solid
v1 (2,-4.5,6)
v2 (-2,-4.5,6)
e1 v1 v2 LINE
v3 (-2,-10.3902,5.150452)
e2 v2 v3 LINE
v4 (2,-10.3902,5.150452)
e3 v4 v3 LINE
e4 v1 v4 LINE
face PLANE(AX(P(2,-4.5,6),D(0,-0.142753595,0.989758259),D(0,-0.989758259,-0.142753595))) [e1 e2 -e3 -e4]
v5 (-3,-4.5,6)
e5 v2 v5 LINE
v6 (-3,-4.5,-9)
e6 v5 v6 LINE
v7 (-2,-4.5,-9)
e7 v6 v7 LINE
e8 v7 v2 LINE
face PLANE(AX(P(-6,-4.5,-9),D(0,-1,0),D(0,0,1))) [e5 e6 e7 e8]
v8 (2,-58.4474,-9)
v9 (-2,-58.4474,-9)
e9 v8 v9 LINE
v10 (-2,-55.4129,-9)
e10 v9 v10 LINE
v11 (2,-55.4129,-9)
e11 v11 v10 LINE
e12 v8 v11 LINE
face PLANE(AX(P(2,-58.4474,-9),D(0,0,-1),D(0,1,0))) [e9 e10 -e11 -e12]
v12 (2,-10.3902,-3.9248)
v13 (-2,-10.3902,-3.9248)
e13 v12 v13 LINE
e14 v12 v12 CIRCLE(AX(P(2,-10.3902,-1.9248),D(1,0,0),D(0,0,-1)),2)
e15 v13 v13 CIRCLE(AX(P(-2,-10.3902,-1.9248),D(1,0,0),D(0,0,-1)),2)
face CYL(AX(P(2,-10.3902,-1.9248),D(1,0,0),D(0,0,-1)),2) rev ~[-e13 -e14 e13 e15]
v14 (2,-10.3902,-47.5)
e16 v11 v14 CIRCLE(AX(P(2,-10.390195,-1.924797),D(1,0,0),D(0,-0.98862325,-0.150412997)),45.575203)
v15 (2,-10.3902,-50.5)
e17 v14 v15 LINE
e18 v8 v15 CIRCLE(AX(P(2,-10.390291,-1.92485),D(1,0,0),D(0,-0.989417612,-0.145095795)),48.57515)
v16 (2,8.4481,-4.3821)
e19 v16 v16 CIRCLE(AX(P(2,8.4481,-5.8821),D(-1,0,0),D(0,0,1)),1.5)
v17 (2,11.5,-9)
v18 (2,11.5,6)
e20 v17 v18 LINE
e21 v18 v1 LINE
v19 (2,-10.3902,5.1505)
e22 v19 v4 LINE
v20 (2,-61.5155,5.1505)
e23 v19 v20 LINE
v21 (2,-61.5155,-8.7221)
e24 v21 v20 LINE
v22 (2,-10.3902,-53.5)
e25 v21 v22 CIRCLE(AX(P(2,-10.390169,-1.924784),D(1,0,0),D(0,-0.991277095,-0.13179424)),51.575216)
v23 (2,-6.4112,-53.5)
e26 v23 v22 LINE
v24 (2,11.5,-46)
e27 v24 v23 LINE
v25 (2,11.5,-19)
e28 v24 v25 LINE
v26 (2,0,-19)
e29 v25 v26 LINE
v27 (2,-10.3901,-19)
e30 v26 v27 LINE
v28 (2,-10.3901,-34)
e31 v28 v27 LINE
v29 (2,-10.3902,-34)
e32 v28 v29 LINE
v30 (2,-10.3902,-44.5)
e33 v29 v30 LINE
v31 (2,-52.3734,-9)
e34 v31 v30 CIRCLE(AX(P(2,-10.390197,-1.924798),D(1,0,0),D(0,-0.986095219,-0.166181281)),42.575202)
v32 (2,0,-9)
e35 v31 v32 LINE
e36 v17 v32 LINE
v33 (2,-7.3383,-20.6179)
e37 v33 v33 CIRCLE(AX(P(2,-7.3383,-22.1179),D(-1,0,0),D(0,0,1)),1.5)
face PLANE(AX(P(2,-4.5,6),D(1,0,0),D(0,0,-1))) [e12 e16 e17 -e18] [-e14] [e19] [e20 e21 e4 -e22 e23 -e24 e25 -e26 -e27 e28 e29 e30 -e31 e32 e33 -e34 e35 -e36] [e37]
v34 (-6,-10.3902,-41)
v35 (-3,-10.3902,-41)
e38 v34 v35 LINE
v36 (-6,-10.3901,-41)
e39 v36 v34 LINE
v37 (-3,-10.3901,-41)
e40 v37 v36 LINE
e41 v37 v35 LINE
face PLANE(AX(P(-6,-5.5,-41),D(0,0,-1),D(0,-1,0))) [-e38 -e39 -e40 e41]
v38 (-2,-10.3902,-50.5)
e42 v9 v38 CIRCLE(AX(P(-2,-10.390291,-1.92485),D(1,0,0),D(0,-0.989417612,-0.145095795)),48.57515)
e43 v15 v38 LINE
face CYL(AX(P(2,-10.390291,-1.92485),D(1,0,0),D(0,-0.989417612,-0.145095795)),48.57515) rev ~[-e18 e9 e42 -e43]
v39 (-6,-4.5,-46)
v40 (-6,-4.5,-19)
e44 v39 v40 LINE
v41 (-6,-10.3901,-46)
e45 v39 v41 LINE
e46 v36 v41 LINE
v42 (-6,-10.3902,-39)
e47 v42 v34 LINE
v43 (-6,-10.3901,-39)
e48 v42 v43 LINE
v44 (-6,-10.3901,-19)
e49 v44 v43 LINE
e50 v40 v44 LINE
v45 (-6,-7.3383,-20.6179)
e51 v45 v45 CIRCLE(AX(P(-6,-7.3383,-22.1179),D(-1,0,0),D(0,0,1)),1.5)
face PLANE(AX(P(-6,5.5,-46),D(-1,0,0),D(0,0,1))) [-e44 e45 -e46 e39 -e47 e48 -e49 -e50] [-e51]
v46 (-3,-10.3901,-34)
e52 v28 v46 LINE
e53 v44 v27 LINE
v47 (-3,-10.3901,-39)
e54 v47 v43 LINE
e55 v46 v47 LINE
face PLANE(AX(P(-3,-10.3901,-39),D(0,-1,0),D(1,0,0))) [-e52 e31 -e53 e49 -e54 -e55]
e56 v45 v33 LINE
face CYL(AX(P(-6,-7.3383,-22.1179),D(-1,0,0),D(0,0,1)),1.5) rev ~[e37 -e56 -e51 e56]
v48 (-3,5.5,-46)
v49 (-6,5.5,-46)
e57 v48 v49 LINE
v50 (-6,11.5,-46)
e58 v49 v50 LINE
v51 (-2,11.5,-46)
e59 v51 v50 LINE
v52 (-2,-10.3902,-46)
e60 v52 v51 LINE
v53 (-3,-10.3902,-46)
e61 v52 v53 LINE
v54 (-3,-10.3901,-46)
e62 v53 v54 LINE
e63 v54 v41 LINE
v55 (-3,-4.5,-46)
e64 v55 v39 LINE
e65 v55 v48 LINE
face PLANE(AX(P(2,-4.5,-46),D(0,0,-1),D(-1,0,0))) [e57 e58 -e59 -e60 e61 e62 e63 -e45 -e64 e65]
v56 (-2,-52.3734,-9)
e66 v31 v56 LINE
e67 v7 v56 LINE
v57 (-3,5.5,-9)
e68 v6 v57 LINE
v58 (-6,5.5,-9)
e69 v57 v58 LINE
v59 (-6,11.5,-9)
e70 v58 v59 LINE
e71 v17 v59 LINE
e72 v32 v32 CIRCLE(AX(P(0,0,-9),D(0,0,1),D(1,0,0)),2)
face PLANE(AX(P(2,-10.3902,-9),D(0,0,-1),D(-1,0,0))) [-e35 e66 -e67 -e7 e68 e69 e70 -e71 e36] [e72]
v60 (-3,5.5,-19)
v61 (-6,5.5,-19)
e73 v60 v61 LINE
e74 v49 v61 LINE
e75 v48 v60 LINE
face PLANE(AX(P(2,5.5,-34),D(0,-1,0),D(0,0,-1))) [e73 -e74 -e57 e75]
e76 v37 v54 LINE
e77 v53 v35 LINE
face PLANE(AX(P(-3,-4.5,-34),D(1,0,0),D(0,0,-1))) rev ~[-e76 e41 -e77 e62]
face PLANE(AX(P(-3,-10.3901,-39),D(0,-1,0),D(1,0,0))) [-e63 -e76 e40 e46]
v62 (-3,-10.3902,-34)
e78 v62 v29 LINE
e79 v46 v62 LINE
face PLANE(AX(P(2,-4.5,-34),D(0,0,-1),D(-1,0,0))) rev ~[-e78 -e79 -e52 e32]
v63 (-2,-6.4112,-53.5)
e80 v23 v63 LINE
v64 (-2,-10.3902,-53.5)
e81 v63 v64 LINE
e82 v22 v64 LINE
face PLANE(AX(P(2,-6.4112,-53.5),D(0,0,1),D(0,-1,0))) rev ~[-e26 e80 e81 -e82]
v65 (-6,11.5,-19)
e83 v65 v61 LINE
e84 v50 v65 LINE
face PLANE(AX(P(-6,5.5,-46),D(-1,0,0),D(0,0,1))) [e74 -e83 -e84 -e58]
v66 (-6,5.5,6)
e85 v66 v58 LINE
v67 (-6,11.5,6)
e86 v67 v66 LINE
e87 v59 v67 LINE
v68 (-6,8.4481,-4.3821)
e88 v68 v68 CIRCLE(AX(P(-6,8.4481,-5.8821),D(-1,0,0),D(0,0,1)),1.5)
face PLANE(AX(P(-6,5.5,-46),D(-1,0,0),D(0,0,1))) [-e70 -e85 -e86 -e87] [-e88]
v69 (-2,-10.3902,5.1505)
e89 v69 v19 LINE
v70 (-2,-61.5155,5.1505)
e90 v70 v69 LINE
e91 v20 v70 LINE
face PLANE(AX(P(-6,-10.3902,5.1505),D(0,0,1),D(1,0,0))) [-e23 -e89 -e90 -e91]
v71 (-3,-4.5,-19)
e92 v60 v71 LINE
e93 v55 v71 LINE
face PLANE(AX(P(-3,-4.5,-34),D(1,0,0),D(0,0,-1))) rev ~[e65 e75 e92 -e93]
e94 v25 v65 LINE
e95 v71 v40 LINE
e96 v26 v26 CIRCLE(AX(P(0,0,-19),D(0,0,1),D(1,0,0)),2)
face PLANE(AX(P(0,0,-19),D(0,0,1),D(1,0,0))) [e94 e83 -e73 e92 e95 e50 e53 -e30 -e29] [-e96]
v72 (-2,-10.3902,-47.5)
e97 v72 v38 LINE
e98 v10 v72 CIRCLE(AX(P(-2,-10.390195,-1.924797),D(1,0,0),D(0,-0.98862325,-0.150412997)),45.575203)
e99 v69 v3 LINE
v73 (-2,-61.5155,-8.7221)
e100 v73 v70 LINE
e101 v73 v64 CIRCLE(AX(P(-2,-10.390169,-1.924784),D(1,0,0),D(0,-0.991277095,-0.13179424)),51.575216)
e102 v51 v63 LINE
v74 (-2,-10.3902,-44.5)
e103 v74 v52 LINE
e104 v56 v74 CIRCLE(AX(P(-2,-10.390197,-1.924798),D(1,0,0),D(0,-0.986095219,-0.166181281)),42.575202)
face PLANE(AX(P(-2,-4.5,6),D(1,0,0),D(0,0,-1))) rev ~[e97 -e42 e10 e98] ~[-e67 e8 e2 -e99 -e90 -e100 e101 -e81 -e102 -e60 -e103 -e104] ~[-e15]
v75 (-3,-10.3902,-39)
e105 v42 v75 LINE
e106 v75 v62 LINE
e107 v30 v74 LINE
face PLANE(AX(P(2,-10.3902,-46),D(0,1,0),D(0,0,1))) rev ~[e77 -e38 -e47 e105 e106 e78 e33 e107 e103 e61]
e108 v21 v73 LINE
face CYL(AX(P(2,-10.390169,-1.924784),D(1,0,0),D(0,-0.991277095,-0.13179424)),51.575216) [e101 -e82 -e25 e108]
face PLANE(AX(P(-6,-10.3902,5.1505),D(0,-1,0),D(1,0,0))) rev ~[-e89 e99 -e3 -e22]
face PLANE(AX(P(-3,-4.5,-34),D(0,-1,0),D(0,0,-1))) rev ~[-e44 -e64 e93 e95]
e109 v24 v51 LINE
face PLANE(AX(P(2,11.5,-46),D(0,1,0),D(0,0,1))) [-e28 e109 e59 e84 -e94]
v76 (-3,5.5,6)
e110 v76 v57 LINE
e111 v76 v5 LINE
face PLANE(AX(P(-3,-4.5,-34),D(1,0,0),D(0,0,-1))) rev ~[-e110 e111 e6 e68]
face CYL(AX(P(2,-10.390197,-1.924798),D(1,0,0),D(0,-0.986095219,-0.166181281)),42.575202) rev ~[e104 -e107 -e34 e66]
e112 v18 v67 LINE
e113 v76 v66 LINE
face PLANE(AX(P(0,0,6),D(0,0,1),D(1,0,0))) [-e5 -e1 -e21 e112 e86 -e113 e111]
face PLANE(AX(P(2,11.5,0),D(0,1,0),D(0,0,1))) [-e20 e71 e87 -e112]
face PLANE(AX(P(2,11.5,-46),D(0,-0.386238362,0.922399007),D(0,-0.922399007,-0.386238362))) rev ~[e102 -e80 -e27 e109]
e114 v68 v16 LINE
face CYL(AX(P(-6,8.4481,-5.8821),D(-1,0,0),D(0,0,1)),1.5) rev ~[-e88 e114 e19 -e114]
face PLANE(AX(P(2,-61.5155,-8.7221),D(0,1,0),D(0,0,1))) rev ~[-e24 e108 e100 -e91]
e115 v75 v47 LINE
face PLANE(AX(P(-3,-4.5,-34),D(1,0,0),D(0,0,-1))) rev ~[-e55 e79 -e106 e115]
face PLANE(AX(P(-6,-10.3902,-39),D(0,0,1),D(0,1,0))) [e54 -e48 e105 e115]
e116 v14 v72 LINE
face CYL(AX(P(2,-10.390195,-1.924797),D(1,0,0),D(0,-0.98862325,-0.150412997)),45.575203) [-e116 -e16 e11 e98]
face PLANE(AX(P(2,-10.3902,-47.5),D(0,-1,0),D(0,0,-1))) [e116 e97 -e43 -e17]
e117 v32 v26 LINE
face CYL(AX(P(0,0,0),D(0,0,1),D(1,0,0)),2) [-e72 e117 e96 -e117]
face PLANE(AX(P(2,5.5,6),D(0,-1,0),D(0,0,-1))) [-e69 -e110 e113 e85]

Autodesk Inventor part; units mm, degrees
ref_plane "YZ Plane" through (0, 0, 0) normal (1, 0, 0) x (0, 1, 0)
ref_plane "XZ Plane" through (0, 0, 0) normal (0, 1, 0) x (-1, 0, 0)
ref_plane "XY Plane" through (0, 0, 0) normal (0, 0, 1) x (1, 0, 0)
sketch "Sketch1" plane through (0, 0, 0) normal (0, 0, 1) x (1, 0, 0)
  circle A0 centre (0, 0) radius 2
  dimension "d0" = 4
extrude "Extrusion1" add sketch "Sketch1" against normal blind 40
sketch "Sketch2" plane through (0, 0, 0) normal (0, 0, 1) x (1, 0, 0)
  circle A0 centre (0, 0) radius 2 projected
  line L0 (2, -4.5) -> (-3, -4.5)
  line L1 (-3, -4.5) -> (-3, 4.5)
  line L2 (-3, 4.5) -> (2, 4.5)
  line L3 (2, 4.5) -> (2, -4.5)
  dimension "d3" = 3
  dimension "d4" = 9
  dimension "d5" = 4.5
extrude "Extrusion2" add sketch "Sketch2" along normal blind 6 contours A0 | L3 L0 L1 L2
sketch "Sketch3" plane through (0, 0, 6) normal (0, 0, 1) x (1, 0, 0)
  circle A0 centre (0, 0) radius 2 projected
  line L0 (-3, -4.5) -> (2, -4.5) projected
  line L1 (2, -4.5) -> (2, 4.5) projected
  line L2 (2, 4.5) -> (-3, 4.5) projected
  line L3 (-3, 4.5) -> (-3, -4.5) projected
  line L4 (2, -4.5) -> (2, 4.5) projected
  line L5 (-3, 4.5) -> (2, 4.5)
  line L6 (2, 4.5) -> (2, 3.5)
  line L7 (2, 3.5) -> (-3, 3.5)
  line L8 (-3, 3.5) -> (-3, 4.5)
  point P0 (2, 0)
  dimension "d8" = 1
extrude "Extrusion3" cut sketch "Sketch3" against normal blind 6 contours L7 L3 L2 L1
sketch "Sketch4" plane through (0, 0, -40) normal (0, 0, -1) x (-1, 0, 0)
  circle A0 centre (0, 0) radius 2 projected
extrude "Extrusion4" cut sketch "Sketch4" against normal blind 6
sketch "Sketch5" plane through (0, 0, -34) normal (0, 0, -1) x (-1, 0, 0)
  line L0 (3, 3.5) -> (-2, 3.5) projected
  line L1 (3, -4.5) -> (3, 3.5) projected
  line L2 (-2, 3.5) -> (-2, 0) projected
  line L3 (-2, 0) -> (-2, -4.5) projected
  line L4 (-2, -4.5) -> (3, -4.5) projected
  line L5 (3, 3.5) -> (-2, 3.5)
  line L6 (-2, 3.5) -> (-2, -4.5)
  line L7 (-2, -4.5) -> (3, -4.5)
  line L8 (3, -4.5) -> (3, 3.5)
  point P0 (0, 0)
extrude "Extrusion5" add sketch "Sketch5" along normal blind 12
sketch "Sketch6" plane through (-3, -4.5, -34) normal (0, -1, 0) x (1, 0, 0)
  line L0 (5, 0) -> (0, 0) projected
  line L1 (0, 0) -> (0, -12) projected
  line L2 (5, -12) -> (0, -12) projected
  line L3 (5, 0) -> (5, -12) projected
  line L4 (5, -12) -> (0, -12)
  line L5 (0, -12) -> (0, 0)
  line L6 (0, 0) -> (5, 0)
  line L7 (5, 0) -> (5, -12)
  point P0 (3, 34)
extrude "Extrusion6" add sketch "Sketch6" along normal blind 110
sketch "Sketch7" plane through (2, 0, -34) normal (1, 0, 0) x (0, 0, -1)
  line L0 (0, 3.5) -> (0, 0) projected
  line L1 (0, 0) -> (0, -114.5) projected
  line L2 (12, -114.5) -> (0, -114.5) projected
  line L3 (12, 3.5) -> (12, -114.5) projected
  line L4 (0, 3.5) -> (12, 3.5) projected
  line L5 (-34, 3.5) -> (-40, 3.5) projected
  line L6 (-40, -4.5) -> (-40, 3.5) projected
  line L7 (-34, -4.5) -> (-40, -4.5) projected
  line L8 (-34, 0) -> (-34, -4.5) projected
  line L9 (-34, 3.5) -> (-34, 0) projected
  line L10 (0, 3.5) -> (0, -114.5) projected
  line L11 (0, -108.5) -> (-25, -108.5)
  line L12 (-25, -108.5) -> (-25, -114.5)
  line L13 (-25, -114.5) -> (0, -114.5)
  line L14 (0, -114.5) -> (0, -108.5)
  line L15 (0, -114.5) -> (12, -114.5) projected
  line L16 (-40, -4.5) -> (-25, -108.5)
  line L17 (-34, -4.5) -> (-19, -108.5)
  point P0 (-34, 0)
  dimension "d46" = 6
  dimension "d47" = 25
extrude "Extrusion7" add sketch "Sketch7" against normal up to surface (5 mm away) contours L1 L13 L12 L11 | L11 L16 L7 L17 | L7 L6 L5 L9 L8
sketch "Sketch8" plane through (2, 3.5, 6) normal (1, 0, 0) x (0, 0, -1)
  line L0 (6, 0) -> (0, 0) projected
  line L1 (45, -10) -> (47, -10)
  line L2 (47, -10) -> (47, -112)
  line L3 (47, -112) -> (45, -112)
  line L4 (45, -112) -> (45, -10)
  line L5 (0, -8) -> (0, 0) projected
  line L6 (6, -3.5) -> (6, -8) projected
  line L7 (6, 0) -> (6, -3.5) projected
  line L8 (0, -8) -> (15, -112) projected
  line L9 (15, -112) -> (15, -118) projected
  line L10 (52, -118) -> (15, -118) projected
  line L11 (52, 0) -> (52, -118) projected
  line L12 (40, 0) -> (52, 0) projected
  line L13 (40, 0) -> (40, -3.5) projected
  line L14 (40, -3.5) -> (40, -112) projected
  line L15 (40, -112) -> (21, -112) projected
  line L16 (21, -112) -> (6, -8) projected
  dimension "d20" = 2
  dimension "d48" = 6
  dimension "d49" = 5
  dimension "d50" = 10
extrude "Extrusion8" cut sketch "Sketch8" against normal through all contours L1 L2 L3 L4
sketch "Sketch9" plane through (-3, 3.5, 0) normal (-1, 0, 0) x (0, 0, 1)
  line L0 (6, 0) -> (0, 0) projected
  line L1 (-46, 0) -> (-46, -118) projected
  line L2 (-46, -8) -> (-46, -9)
  line L3 (-34, -3.5) -> (-34, -112) projected
  line L4 (-34, -8) -> (-34, -9)
  line L5 (0, -8) -> (-0.8495, -13.8902)
  line L6 (-46, -9) -> (-34, -9)
  line L7 (6, -8) -> (0, -8)
  line L8 (-34, -8) -> (-46, -8)
  line L9 (0, -8) -> (0, 0) projected
  line L10 (6, 0) -> (6, -8) projected
  line L11 (-15, -112) -> (0, -8) projected
  line L12 (-34, -112) -> (-15, -112) projected
  line L13 (-34, 0) -> (-34, -112) projected
  line L14 (-34, 0) -> (-46, 0) projected
  line L15 (-46, 0) -> (-46, -118) projected
  line L16 (-9, -118) -> (-46, -118) projected
  line L17 (-9, -112) -> (-9, -118) projected
  line L18 (6, -8) -> (-9, -112) projected
  line L19 (-15, -112) -> (0, -8) projected
  line L20 (6, -8) -> (5.1505, -13.8902)
  line L21 (6, -8) -> (-9, -112) projected
  line L22 (5.1505, -13.8902) -> (-0.8495, -13.8902)
  line L23 (-15, -112) -> (0, -8) projected
  line L24 (-46, -9) -> (-34, -9)
  line L25 (-34, -9) -> (-34, -18.1174)
  line L26 (-34, -18.1174) -> (-46, -18.1174)
  line L27 (-46, -18.1174) -> (-46, -9)
  line L28 (-41, -9) -> (-41, -18.1174)
  line L29 (-41, -10) -> (-41, -112) projected
  line L30 (-39, -10) -> (-39, -112) projected
  line L31 (-39, -18.1174) -> (-39, -9)
  line L32 (-39, -10) -> (-39, -112) projected
  line L33 (-39, -112) -> (-41, -112) projected
  line L34 (-41, -112) -> (-41, -10) projected
  line L35 (-41, -10) -> (-39, -10) projected
  point P0 (0, -3.5)
  point P1 (-40, -8)
  point P2 (-39, 0)
  point P3 (-41, 0)
extrude "Extrusion9" add sketch "Sketch9" along normal blind 3.5 contours L18 L22 L5 L7 | L26 L30 L31 L6 L3 | L1 L6 L28 L26 | L6 L1 L8 L3
sketch "Sketch10" plane through (-3, 3.5, 6) normal (0, 1, 0) x (1, 0, 0)
  line L0 (2.5037, 5.3678) -> (4.55, 1.815)
  line L1 (4.55, 1.815) -> (2.4963, 0.6322)
  line L2 (2.4963, 0.6322) -> (0.45, 4.185)
  line L3 (0.45, 4.185) -> (2.5037, 5.3678)
  line L4 (0.45, 4.185) -> (4.55, 4.185)
  line L5 (4.55, 4.185) -> (4.55, 1.815)
  line L6 (4.55, 1.815) -> (0.45, 1.815)
  line L7 (0.45, 1.815) -> (0.45, 4.185)
  line L8 (2.5037, 5.3678) -> (4.55, 4.185)
  line L9 (0.45, 1.815) -> (2.4963, 0.6322)
  line L10 (2.4963, 45.3678) -> (4.5537, 41.8214)
  line L11 (4.5537, 41.8214) -> (2.5037, 40.6322)
  line L12 (2.5037, 40.6322) -> (0.4463, 44.1786)
  line L13 (0.4463, 44.1786) -> (2.4963, 45.3678)
  line L14 (0.4463, 44.1786) -> (4.5463, 44.1914)
  line L15 (4.5463, 44.1914) -> (4.5537, 41.8214)
  line L16 (4.5537, 41.8214) -> (0.4537, 41.8086)
  line L17 (0.4537, 41.8086) -> (0.4463, 44.1786)
  line L18 (2.4963, 45.3678) -> (4.5463, 44.1914)
  line L19 (0.4537, 41.8086) -> (2.5037, 40.6322)
  line L20 (4.4304, 1.8841) -> (2.4963, 0.6322)
  line L21 (0.4537, 41.8086) -> (4.5463, 44.1914)
  line L22 (4.5537, 41.8214) -> (0.4463, 44.1786)
  line L23 (2.5037, 40.6322) -> (2.4963, 45.3678)
  line L24 (5, 0) -> (0, 0) projected
  line L25 (0, 0) -> (0, 6) projected
  line L26 (0, 40) -> (5, 40) projected
  line L27 (0, 40) -> (0, 52) projected
  point P0 (3, 6)
  point P1 (11, 0)
  point P2 (11, 0)
  point P3 (2.5, 43)
  point P4 (2.5, 3)
  dimension "d28" = 4.1
  dimension "d29" = 2.37
  dimension "d30" = 4.1
  dimension "d31" = 2.37
  dimension "d33" = 4.1
  dimension "d34" = 2.37
  dimension "d35" = 4.1
  dimension "d36" = 2.37
  dimension "d38" = 3
  dimension "d39" = 2.5
  dimension "d40" = 3
  dimension "d41" = 2.5
sketch "Sketch11" plane through (-3, 3.5, -34) normal (0, 1, 0) x (1, 0, 0)
  line L0 (0, 0) -> (5, 0) projected
  line L1 (5, 0) -> (5, 12) projected
  line L2 (0, 12) -> (5, 12) projected
  line L3 (0, 0) -> (0, 12) projected
  line L4 (5, -40) -> (0, -40) projected
  line L5 (5, -34) -> (5, -40) projected
  line L6 (0, -34) -> (5, -34) projected
  line L7 (0, -40) -> (0, -34) projected
  point P0 (3, -34)
extrude "Extrusion12" add sketch "Sketch11" along normal blind 2
sketch "Sketch12" plane through (2, -114.5, -9) normal (1, 0, 0) x (0, 0, -1)
  line L0 (30, 6) -> (30, 108) projected
  line L1 (30, 108) -> (32, 108) projected
  line L2 (32, 108) -> (32, 6) projected
  line L3 (32, 6) -> (30, 6) projected
  line L4 (-15, 110) -> (-15, 120) projected
  line L5 (-15, 110) -> (0, 6) projected
  line L6 (0, 6) -> (0, 0) projected
  line L7 (37, 0) -> (0, 0) projected
  line L8 (37, 0) -> (37, 120) projected
  line L9 (25, 120) -> (37, 120) projected
  line L10 (25, 114.5) -> (25, 120) projected
  line L11 (25, 114.5) -> (25, 6) projected
  line L12 (25, 6) -> (6, 6) projected
  line L13 (6, 6) -> (-9, 110) projected
  line L14 (-9, 114.5) -> (-9, 110) projected
  line L15 (-9, 120) -> (-9, 114.5) projected
  line L16 (-15, 120) -> (-9, 120) projected
  line L17 (-15, 120) -> (-9, 120)
  line L18 (-9, 120) -> (-9, 126)
  line L19 (-9, 126) -> (-15, 126)
  line L20 (-15, 126) -> (-15, 120)
  line L21 (25, 120) -> (37, 120)
  line L22 (37, 120) -> (37, 126)
  line L23 (37, 126) -> (25, 126)
  line L24 (25, 126) -> (25, 120)
  dimension "d53" = 6
extrude "Extrusion13" add sketch "Sketch12" against normal up to surface (8.5 mm away) contours L20 L19 L18 L16 | L9 L24 L23 L22
sketch "Sketch13" plane through (-6.5, 5.5, -46) normal (-1, 0, 0) x (0, 0, 1)
  line L0 (0, 0) -> (0, 6) projected
  line L1 (12, 0) -> (0, 0) projected
  line L2 (12, 6) -> (12, 0) projected
  line L3 (0, 6) -> (12, 6) projected
  line L4 (5, -11) -> (7, -11) projected
  line L5 (7, -11) -> (7, -20.1174) projected
  line L6 (7, -20.1174) -> (12, -20.1174) projected
  line L7 (12, -20.1174) -> (12, -10) projected
  line L8 (12, -10) -> (0, -10) projected
  line L9 (0, -10) -> (0, -20.1174) projected
  line L10 (0, -20.1174) -> (5, -20.1174) projected
  line L11 (5, -20.1174) -> (5, -11) projected
  line L12 (52, -10) -> (46, -10) projected
  line L13 (46, -10) -> (45.1505, -15.8902) projected
  line L14 (45.1505, -15.8902) -> (51.1505, -15.8902) projected
  line L15 (51.1505, -15.8902) -> (52, -10) projected
  line L16 (46, 0) -> (46, 6) projected
  line L17 (52, 0) -> (46, 0) projected
  line L18 (52, 6) -> (52, 0) projected
  line L19 (46, 6) -> (52, 6) projected
  point P0 (46, -5.5)
extrude "Extrusion14" cut sketch "Sketch13" against normal blind 0.5
sketch "Sketch14" plane through (0, 0, -34) normal (0, 0, 1) x (1, 0, 0)
  line L0 (-6, 11.5) -> (-6, 5.5) projected
  line L1 (-3, 5.5) -> (-6, 5.5) projected
  line L2 (-3, 5.5) -> (-3, -4.5) projected
  line L3 (-3, -4.5) -> (-6, -4.5) projected
  line L4 (-6, -4.5) -> (-6, -14.6174) projected
  line L5 (-3, -14.6174) -> (-6, -14.6174) projected
  line L6 (-3, -14.6174) -> (-3, -108.5) projected
  line L7 (-3, -108.5) -> (2, -108.5) projected
  line L8 (2, 0) -> (2, -108.5) projected
  circle A0 centre (0, 0) radius 2 projected
  line L9 (2, 0) -> (2, 11.5) projected
  line L10 (2, 11.5) -> (-6, 11.5) projected
  line L11 (2, 0) -> (2, 11.5) projected
  line L12 (-6, 11.5) -> (2, 11.5)
  line L13 (2, 11.5) -> (2, 5.5)
  line L14 (2, 5.5) -> (-6, 5.5)
  line L15 (-6, 5.5) -> (-6, 11.5)
  line L16 (2, 5.5) -> (-3, 5.5)
  line L17 (-3, 5.5) -> (-3, -4.5)
  line L18 (-3, -4.5) -> (2, -4.5)
  line L19 (2, -4.5) -> (2, 5.5)
  line L20 (-6, -14.6174) -> (2, -14.6174)
  line L21 (2, -14.6174) -> (2, -4.5)
  line L22 (2, -4.5) -> (-6, -4.5)
  line L23 (-6, -4.5) -> (-6, -14.6174)
extrude "Extrusion15" add sketch "Sketch14" along normal blind 15 contours L10 L9 L14 L1 L0 | A0 | L14 L9 L8 L18 L2 | L18 L8 L20 L5 L4 L3
sketch "Sketch15" plane through (0, 0, 0) normal (0, 0, -1) x (-1, 0, 0)
  line L0 (6, 5.5) -> (6, 11.5) projected
  line L1 (-2, 11.5) -> (6, 11.5) projected
  line L2 (-2, 11.5) -> (-2, 0) projected
  circle A0 centre (0, 0) radius 2 projected
  line L3 (-2, 0) -> (-2, -4.5) projected
  line L4 (-2, -4.5) -> (3, -4.5) projected
  line L5 (3, -4.5) -> (3, 5.5) projected
  line L6 (3, 5.5) -> (6, 5.5) projected
  line L7 (6, -10.3902) -> (6, -4.5) projected
  line L8 (3, -4.5) -> (6, -4.5) projected
  line L9 (-2, -4.5) -> (3, -4.5) projected
  line L10 (-2, -108.5) -> (-2, -4.5) projected
  line L11 (3, -108.5) -> (-2, -108.5) projected
  line L12 (3, -108.5) -> (3, -10.3902) projected
  line L13 (3, -10.3902) -> (6, -10.3902) projected
  line L14 (-2, 11.5) -> (-2, 0) projected
  line L15 (6, 11.5) -> (-2, 11.5)
  line L16 (-2, 11.5) -> (-2, 5.5)
  line L17 (-2, 5.5) -> (6, 5.5)
  line L18 (6, 5.5) -> (6, 11.5)
  line L19 (-2, 5.5) -> (3, 5.5)
  line L20 (3, 5.5) -> (3, -4.5)
  line L21 (3, -4.5) -> (-2, -4.5)
  line L22 (-2, -4.5) -> (-2, 5.5)
  line L23 (6, -10.3902) -> (-2, -10.3902)
  line L24 (-2, -10.3902) -> (-2, -4.5)
  line L25 (-2, -4.5) -> (6, -4.5)
  line L26 (6, -4.5) -> (6, -10.3902)
extrude "Extrusion16" add sketch "Sketch15" along normal blind 9 contours L6 L17 L2 L1 L0 | A0 | L5 L4 L3 L2 L17 | L8 L7 L13 L23 L10 L4
sketch "Sketch16" plane through (-3, -14.6174, -39) normal (0, -1, 0) x (1, 0, 0)
  line L0 (-3, 20) -> (-3, 0) projected
  line L1 (0, 0) -> (-3, 0) projected
  line L2 (0, 5) -> (0, 0) projected
  line L3 (5, 5) -> (0, 5) projected
  line L4 (5, 5) -> (5, 20) projected
  line L5 (-3, 20) -> (5, 20) projected
  line L6 (-3, -2) -> (-3, -7) projected
  line L7 (0, -7) -> (-3, -7) projected
  line L8 (0, -2) -> (0, -7) projected
  line L9 (0, -2) -> (-3, -2) projected
  point P0 (3, 39)
extrude "Extrusion17" cut sketch "Sketch16" against normal up to surface (4.2273 mm away)
sketch "Sketch17" plane through (-6, 5.5, -46) normal (-1, 0, 0) x (0, 0, 1)
  line L0 (0, -15.8902) -> (5, -15.8902) projected
  line L1 (5, -11) -> (5, -15.8902) projected
  line L2 (7, -11) -> (5, -11) projected
  line L3 (7, -15.8902) -> (7, -11) projected
  line L4 (7, -15.8902) -> (27, -15.8902) projected
  line L5 (27, -10) -> (27, -15.8902) projected
  line L6 (0, -10) -> (27, -10) projected
  line L7 (0, -15.8902) -> (0, -10) projected
  line L8 (5, -11) -> (7, -11)
  line L9 (7, -11) -> (7, -15.8902)
  line L10 (7, -15.8902) -> (5, -15.8902)
  line L11 (5, -15.8902) -> (5, -11)
  point P0 (46, -5.5)
extrude "Extrusion18" add sketch "Sketch17" against normal up to surface (8 mm away) contours L1 L2 L3 L10
sketch "Sketch18" plane through (-6, 5.5, -46) normal (-1, 0, 0) x (0, 0, 1)
  line L0 (38.9361, 5) -> (42.4857, 2.9481)
  line L1 (42.4857, 2.9481) -> (41.2996, 0.8963)
  line L2 (41.2996, 0.8963) -> (37.75, 2.9481)
  line L3 (37.75, 2.9481) -> (38.9361, 5)
  line L4 (37.75, 2.9481) -> (41.2996, 5)
  line L5 (41.2996, 5) -> (42.4857, 2.9481)
  line L6 (42.4857, 2.9481) -> (38.9361, 0.8963)
  line L7 (38.9361, 0.8963) -> (37.75, 2.9481)
  line L8 (38.9361, 5) -> (41.2996, 5)
  line L9 (38.9361, 0.8963) -> (41.2996, 0.8963)
  line L10 (52, 0) -> (37, 0) projected
  line L11 (52, 6) -> (52, 0) projected
  line L12 (37, 6) -> (52, 6) projected
  line L13 (37, 0) -> (37, 6) projected
  line L14 (0, 0) -> (0, 6) projected
  line L15 (27, 0) -> (0, 0) projected
  line L16 (27, 6) -> (27, 0) projected
  line L17 (0, 6) -> (27, 6) projected
  line L18 (37, 6) -> (52, 6) projected
  line L19 (0, 6) -> (27, 6) projected
  line L20 (22.7004, 5) -> (26.25, 2.9481)
  line L21 (26.25, 2.9481) -> (25.0639, 0.8963)
  line L22 (25.0639, 0.8963) -> (21.5143, 2.9481)
  line L23 (21.5143, 2.9481) -> (22.7004, 5)
  line L24 (21.5143, 2.9481) -> (25.0639, 5)
  line L25 (25.0639, 5) -> (26.25, 2.9481)
  line L26 (26.25, 2.9481) -> (22.7004, 0.8963)
  line L27 (22.7004, 0.8963) -> (21.5143, 2.9481)
  line L28 (22.7004, 5) -> (25.0639, 5)
  line L29 (22.7004, 0.8963) -> (25.0639, 0.8963)
  line L30 (38.9361, -10.7865) -> (42.4857, -12.8383)
  line L31 (42.4857, -12.8383) -> (41.2996, -14.8902)
  line L32 (41.2996, -14.8902) -> (37.75, -12.8383)
  line L33 (37.75, -12.8383) -> (38.9361, -10.7865)
  line L34 (37.75, -12.8383) -> (41.2996, -10.7865)
  line L35 (41.2996, -10.7865) -> (42.4857, -12.8383)
  line L36 (42.4857, -12.8383) -> (38.9361, -14.8902)
  line L37 (38.9361, -14.8902) -> (37.75, -12.8383)
  line L38 (38.9361, -10.7865) -> (41.2996, -10.7865)
  line L39 (38.9361, -14.8902) -> (41.2996, -14.8902)
  line L40 (22.7004, -10.7865) -> (26.25, -12.8383)
  line L41 (26.25, -12.8383) -> (25.0639, -14.8902)
  line L42 (25.0639, -14.8902) -> (21.5143, -12.8383)
  line L43 (21.5143, -12.8383) -> (22.7004, -10.7865)
  line L44 (21.5143, -12.8383) -> (25.0639, -10.7865)
  line L45 (25.0639, -10.7865) -> (26.25, -12.8383)
  line L46 (26.25, -12.8383) -> (22.7004, -14.8902)
  line L47 (22.7004, -14.8902) -> (21.5143, -12.8383)
  line L48 (22.7004, -10.7865) -> (25.0639, -10.7865)
  line L49 (22.7004, -14.8902) -> (25.0639, -14.8902)
  line L50 (0, -15.8902) -> (27, -15.8902) projected
  line L51 (27, -10) -> (27, -15.8902) projected
  line L52 (0, -10) -> (27, -10) projected
  line L53 (0, -15.8902) -> (0, -10) projected
  line L54 (51.1505, -15.8902) -> (37, -15.8902) projected
  line L55 (52, -10) -> (51.1505, -15.8902) projected
  line L56 (37, -10) -> (52, -10) projected
  line L57 (37, -15.8902) -> (37, -10) projected
  line L58 (0, -15.8902) -> (27, -15.8902) projected
  line L59 (51.1505, -15.8902) -> (37, -15.8902) projected
  dimension "d66" = 4.1
  dimension "d67" = 2.37
  dimension "d68" = 4.1
  dimension "d69" = 2.37
  dimension "d79" = 0.75
  dimension "d80" = 1
  dimension "d81" = 4.1
  dimension "d82" = 2.37
  dimension "d83" = 4.1
  dimension "d84" = 2.37
  dimension "d85" = 0.75
  dimension "d88" = 4.1
  dimension "d89" = 2.37
  dimension "d90" = 4.1
  dimension "d91" = 2.37
  dimension "d92" = 4.1
  dimension "d93" = 2.37
  dimension "d94" = 4.1
  dimension "d95" = 2.37
  dimension "d96" = 1
extrude "Extrusion19" [suppressed]
sketch "Sketch19" plane through (2, -108.5, -15) normal (1, 0, 0) x (0, 0, -1)
  line L0 (-6, 104) -> (-21, 104) projected
  line L1 (4, 98.1098) -> (19, 98.1098) projected
  line L2 (19, 98.1098) -> (19, 0) projected
  line L3 (19, 0) -> (0, 0) projected
  line L4 (0, 0) -> (-14.1505, 98.1098) projected
  line L5 (-14.1505, 98.1098) -> (-6, 98.1098) projected
  line L6 (-6, 108.5) -> (-6, 98.1098) projected
  line L7 (-6, 120) -> (-6, 108.5) projected
  line L8 (-6, 120) -> (-21, 120) projected
  line L9 (-21, 104) -> (-21, 120) projected
  line L10 (-21, 104) -> (-6, 0) projected
  line L11 (-6, 0) -> (-6, -6) projected
  line L12 (31, -6) -> (-6, -6) projected
  line L13 (31, -6) -> (31, 120) projected
  line L14 (31, 120) -> (4, 120) projected
  line L15 (4, 108.5) -> (4, 120) projected
  line L16 (4, 98.1098) -> (4, 108.5) projected
  line L17 (26, 98.1098) -> (24, 98.1098) projected
  line L18 (26, 98.1098) -> (26, 0) projected
  line L19 (26, 0) -> (24, 0) projected
  line L20 (24, 0) -> (24, 98.1098) projected
  line L21 (31, 98.1098) -> (-21, 98.1098)
  line L22 (-21, 98.1098) -> (-21, -6)
  line L23 (-21, -6) -> (31, -6)
  line L24 (31, -6) -> (31, 98.1098)
  point P0 (-15, 108.5)
extrude "Extrusion20" cut sketch "Sketch19" against normal through all contours L21 L1 L2 L3 L4 L5 | L21 L4 L3 L2 L20 L19 L18 L13 L12 L11 L10 | L10 L11 L23 L22 L21
sketch "Sketch20" plane through (-6, -10.3902, 5.1505) normal (0, -1, 0) x (1, 0, 0)
  line L0 (0, 0) -> (8, 0) projected
  line L1 (0, 0) -> (0, -14.1505) projected
  line L2 (8, -14.1505) -> (0, -14.1505) projected
  line L3 (8, 0) -> (8, -14.1505) projected
  point P0 (6, -5.1505)
extrude "Extrusion21" add sketch "Sketch20" along normal blind 40
sketch "Sketch22" plane through (-6, 5.5, -46) normal (-1, 0, 0) x (0, 0, 1)
  line L0 (52, -10) -> (51.1505, -15.8902) projected
  line L1 (37, -10) -> (52, -10) projected
  line L2 (37, -10) -> (37, -55.8902) projected
  line L3 (51.1505, -55.8902) -> (37, -55.8902) projected
  line L4 (51.1505, -15.8902) -> (51.1505, -55.8902) projected
  line L5 (0, -15.8902) -> (27, -15.8902) projected
  line L6 (27, -10) -> (27, -15.8902) projected
  line L7 (0, -10) -> (27, -10) projected
  line L8 (0, -15.8902) -> (0, -10) projected
  line L9 (37, -10) -> (37, -55.8902) projected
  line L10 (37, -15.8902) -> (51.1505, -15.8902)
  line L11 (51.1505, -15.8902) -> (51.1505, -55.8902)
  line L12 (51.1505, -55.8902) -> (37, -55.8902)
  line L13 (37, -55.8902) -> (37, -15.8902)
  point P0 (46, -5.5)
extrude "Extrusion22" cut sketch "Sketch22" against normal blind 2 contours L4 L3 L2 L10
sketch "Sketch23" plane through (2, -4.5, 6) normal (1, 0, 0) x (0, 0, -1)
  line L0 (15, 4.5) -> (15, -45.8902) projected
  line L1 (15, 16) -> (15, 4.5) projected
  line L2 (15, 16) -> (0, 16) projected
  line L3 (0, 0) -> (0, 16) projected
  line L4 (0, 0) -> (0.8495, -5.8902) projected
  line L5 (0.8495, -5.8902) -> (0.8495, -45.8902) projected
  line L6 (15, -45.8902) -> (0.8495, -45.8902) projected
  line L7 (25, -5.8902) -> (52, -5.8902) projected
  line L8 (52, -5.8902) -> (52, 16) projected
  line L9 (52, 16) -> (25, 16) projected
  line L10 (25, 4.5) -> (25, 16) projected
  line L11 (25, -5.8902) -> (25, 4.5) projected
  line L12 (15, -5.8902) -> (0.8495, -5.8902) projected
  arc A0 (15, -49.3938) -> (52, -5.8902) centre (7.9248, -5.8902) ccw
  line L13 (15, -45.8902) -> (0.8495, -45.8902)
  line L14 (0.8495, -45.8902) -> (0.8495, -55.4631)
  line L15 (0.8495, -55.4631) -> (15, -55.4631)
  line L16 (15, -49.3938) -> (15, -45.8902)
  line L17 (58, -5.8902) -> (58, -1.9112)
  line L18 (58, -1.9112) -> (52, -1.9112)
  line L19 (52, -1.9112) -> (52, -5.8902)
  line L20 (15, -49.3938) -> (0.8495, -49.3938)
  line L21 (0.8495, -49.3938) -> (0.8495, -45.8902)
  line L22 (0.8495, -45.8902) -> (15, -45.8902)
  arc A1 (15, -55.4631) -> (58, -5.8902) centre (7.9248, -5.8902) ccw
  arc A2 (14.7799, -50.9469) -> (53.5, -5.8902) centre (7.9248, -5.8902) ccw
  arc A3 (14.9729, -53.9514) -> (56.5, -5.8902) centre (7.9248, -5.8902) ccw
  line L23 (52, -5.8902) -> (53.5, -5.8902)
  line L24 (56.5, -5.8902) -> (58, -5.8902)
  line L25 (15, -55.4631) -> (15, -53.9474)
  line L26 (15, -50.9129) -> (15, -49.3938)
  line L27 (53.5, -5.8902) -> (56.5, -5.8902)
  line L28 (15, -53.9474) -> (15, -50.9129)
  point P0 (6, 4.5)
  dimension "d104" = 6
  dimension "d105" = 3
  dimension "d106" = 1.5
extrude "Extrusion23" add sketch "Sketch23" against normal blind 4 contours L16 L20 L14 L6 | L26 L28 L25 L15 L14 L20 | A0 L23 A2 L26 | L8 L18 L17 L24 L27 L23 | A3 L24 A1 L25
sketch "Sketch24" plane through (2, -4.5, 6) normal (1, 0, 0) x (0, 0, -1)
  line L0 (15, -53.9474) -> (15, -50.9129) projected
  arc A0 (15, -50.9129) -> (53.5, -5.8902) centre (7.9248, -5.8902) ccw projected
  line L1 (53.5, -5.8902) -> (56.5, -5.8902) projected
  arc A1 (15, -53.9474) -> (56.5, -5.8902) centre (7.9248, -5.8902) ccw projected
  line L2 (15, 4.5) -> (15, -49.3938) projected
  line L3 (15, 16) -> (15, 4.5) projected
  line L4 (15, 16) -> (0, 16) projected
  line L5 (0, 0) -> (0, 16) projected
  line L6 (0, 0) -> (0.8495, -5.8902) projected
  line L7 (0.8495, -5.8902) -> (0.8495, -55.4631) projected
  line L8 (0.8495, -55.4631) -> (15, -55.4631) projected
  arc A2 (15, -55.4631) -> (58, -5.8902) centre (7.9248, -5.8902) ccw projected
  line L9 (58, -5.8902) -> (58, -1.9112) projected
  line L10 (58, -1.9112) -> (52, -1.9112) projected
  line L11 (52, -1.9112) -> (52, 16) projected
  line L12 (52, 16) -> (25, 16) projected
  line L13 (25, 4.5) -> (25, 16) projected
  line L14 (25, -5.8902) -> (25, 4.5) projected
  line L15 (25, -5.8902) -> (52, -5.8902) projected
  arc A3 (15, -49.3938) -> (52, -5.8902) centre (7.9248, -5.8902) ccw projected
  line L16 (25, -5.8902) -> (52, -5.8902) projected
  arc A4 (15, -47.8734) -> (50.5, -5.8902) centre (7.9248, -5.8902) ccw
  arc A5 (14.7221, -57.0155) -> (59.5, -5.8902) centre (7.9248, -5.8902) ccw
  line L17 (0.8495, -55.4631) -> (14.7221, -55.4631)
  line L18 (14.7221, -55.4631) -> (14.7221, -57.0155)
  line L19 (14.7221, -57.0155) -> (0.8495, -57.0155)
  line L20 (0.8495, -57.0155) -> (0.8495, -55.4631)
  line L21 (58, -5.8902) -> (59.5, -5.8902)
  line L22 (58, -1.9112) -> (59.5, -1.9112)
  line L23 (59.5, -1.9112) -> (59.5, -5.8902)
  line L24 (59.5, -5.8902) -> (58, -5.8902)
  line L25 (58, -5.8902) -> (58, -1.9112)
  point P0 (6, 4.5)
  dimension "d109" = 1.5
  dimension "d110" = 1.5
extrude "Extrusion24" add sketch "Sketch24" against normal blind 4 contours A4 L15 A3 L2 | L8 L18 L19 L20 | L8 A2 L21 A5 L18 | L22 L23 L21 L9
sketch "Sketch25" plane through (2, -4.5, 6) normal (1, 0, 0) x (0, 0, -1)
  line L0 (15, -53.9474) -> (15, -50.9129) projected
  arc A0 (15, -50.9129) -> (53.5, -5.8902) centre (7.9248, -5.8902) ccw projected
  line L1 (53.5, -5.8902) -> (56.5, -5.8902) projected
  arc A1 (15, -53.9474) -> (56.5, -5.8902) centre (7.9248, -5.8902) ccw projected
  line L2 (15, 4.5) -> (15, -47.8734) projected
  line L3 (15, 16) -> (15, 4.5) projected
  line L4 (15, 16) -> (0, 16) projected
  line L5 (0, 0) -> (0, 16) projected
  line L6 (0, 0) -> (0.8495, -5.8902) projected
  line L7 (0.8495, -5.8902) -> (0.8495, -57.0155) projected
  line L8 (0.8495, -57.0155) -> (14.7221, -57.0155) projected
  arc A2 (14.7221, -57.0155) -> (59.5, -5.8902) centre (7.9248, -5.8902) ccw projected
  line L9 (59.5, -5.8902) -> (59.5, -1.9112) projected
  line L10 (59.5, -1.9112) -> (52, -1.9112) projected
  line L11 (52, -1.9112) -> (52, 16) projected
  line L12 (52, 16) -> (25, 16) projected
  line L13 (25, 4.5) -> (25, 16) projected
  line L14 (25, -5.8902) -> (25, 4.5) projected
  line L15 (25, -5.8902) -> (50.5, -5.8902) projected
  arc A3 (15, -47.8734) -> (50.5, -5.8902) centre (7.9248, -5.8902) ccw projected
  line L16 (52, 16) -> (59.5, -1.9112)
  point P0 (6, 4.5)
extrude "Extrusion25" add sketch "Sketch25" against normal blind 4 contours L16 L10 L11
sketch "Sketch26" plane through (-6, 5.5, -46) normal (-1, 0, 0) x (0, 0, 1)
  circle A0 centre (23.8821, 2.9481) radius 1.5
  circle A1 centre (23.8821, -12.8383) radius 1.5
  circle A2 centre (40.1179, 2.9481) radius 1.5
  circle A3 centre (40.1179, -12.8383) radius 1.5
  point P0 (46, -5.5)
  dimension "d115" = 3
  dimension "d116" = 3
  dimension "d117" = 3
  dimension "d118" = 3
extrude "Extrusion26" cut sketch "Sketch26" against normal through all contours A1 | A2
sketch "Sketch27" plane through (2, -4.5, 6) normal (1, 0, 0) x (0, 0, -1)
  arc A0 (15, -47.8734) -> (50.5, -5.8902) centre (7.9248, -5.8902) ccw projected
  circle A1 centre (7.9248, -5.8902) radius 2
  point P0 (6, 4.5)
  dimension "d121" = 4
extrude "Extrusion27" cut sketch "Sketch27" against normal through all
sketch "Sketch28" plane through (-6, 5.5, -46) normal (-1, 0, 0) x (0, 0, 1)
  arc A0 (46.0752, -15.8902) -> (42.0752, -15.8902) centre (44.0752, -15.8902) ccw projected
  line L0 (46.0752, -15.8902) -> (51.1505, -15.8902) projected
  line L1 (52, -10) -> (51.1505, -15.8902) projected
  line L2 (37, -10) -> (52, -10) projected
  line L3 (37, -10) -> (37, -15.8902) projected
  line L4 (37, -15.8902) -> (42.0752, -15.8902) projected
  line L5 (37, -15.8902) -> (42.0752, -15.8902) projected
  line L6 (40.5881, -15.8902) -> (52, -15.8902)
  line L7 (52, -15.8902) -> (52, -10)
  line L8 (52, -10) -> (40.5881, -10)
  line L9 (40.5881, -10) -> (40.5881, -15.8902)
  point P0 (46, -5.5)
extrude "Extrusion28" cut sketch "Sketch28" against normal up to surface (2 mm away) contours A0 L4 L9 L2 L1 L0
sketch "Sketch29" plane through (-4, 5.5, -46) normal (-1, 0, 0) x (0, 0, 1)
  line L0 (37, -15.8902) -> (40.5881, -15.8902) projected
  line L1 (37, -55.8902) -> (37, -15.8902) projected
  line L2 (51.1505, -55.8902) -> (37, -55.8902) projected
  line L3 (51.1505, -15.8902) -> (51.1505, -55.8902) projected
  line L4 (52, -10) -> (51.1505, -15.8902) projected
  line L5 (40.5881, -10) -> (52, -10) projected
  line L6 (40.5881, -10) -> (40.5881, -15.8902) projected
  circle A0 centre (44.0752, -15.8902) radius 2 projected
  line L7 (51.1505, -55.8902) -> (37, -55.8902)
  line L8 (37, -55.8902) -> (37, -15.8902)
  line L9 (37, -15.8902) -> (51.1505, -15.8902)
  line L10 (51.1505, -15.8902) -> (51.1505, -55.8902)
  point P0 (46, -5.5)
extrude "Extrusion29" cut sketch "Sketch29" against normal up to surface (2 mm away) contours L0 L9 A0 L3 L2 L1 | L9 A0 picked at (43.9948, -16.552)
sketch "Sketch30" plane through (-6, 5.5, -46) normal (-1, 0, 0) x (0, 0, 1)
  line L0 (40.5881, -15.8902) -> (40.5881, -10) projected
  line L1 (37, -10) -> (40.5881, -10) projected
  line L2 (37, -10) -> (37, -15.8902) projected
  line L3 (37, -15.8902) -> (40.5881, -15.8902) projected
  line L4 (46.0752, -15.8902) -> (51.1505, -15.8902) projected
  line L5 (52, -10) -> (51.1505, -15.8902) projected
  line L6 (40.5881, -10) -> (52, -10) projected
  line L7 (40.5881, -10) -> (40.5881, -15.8902) projected
  line L8 (40.5881, -15.8902) -> (42.0752, -15.8902) projected
  arc A0 (46.0752, -15.8902) -> (42.0752, -15.8902) centre (44.0752, -15.8902) ccw projected
  line L9 (37, -10) -> (52, -10)
  line L10 (52, -10) -> (52, -15.8902)
  line L11 (52, -15.8902) -> (37, -15.8902)
  line L12 (37, -15.8902) -> (37, -10)
  point P0 (46, -5.5)
extrude "Extrusion30" cut sketch "Sketch30" against normal up to surface (4 mm away)
sketch "Sketch31" plane through (-2, -4.5, 6) normal (-1, 0, 0) x (0, 0, 1)
  circle A0 centre (-7.9248, -5.8902) radius 2 projected
  arc A1 (-56.5, -5.8902) -> (-15, -53.9474) centre (-7.9248, -5.8902) ccw projected
  line L0 (-56.5, -5.8902) -> (-53.5, -5.8902) projected
  arc A2 (-53.5, -5.8902) -> (-15, -50.9129) centre (-7.9248, -5.8902) ccw projected
  line L1 (-15, -50.9129) -> (-15, -53.9474) projected
  line L2 (0, 0) -> (-0.8495, -5.8902) projected
  line L3 (-15, 0) -> (0, 0) projected
  line L4 (-15, -47.8734) -> (-15, 0) projected
  arc A3 (-50.5, -5.8902) -> (-15, -47.8734) centre (-7.9248, -5.8902) ccw projected
  line L5 (-52, -5.8902) -> (-50.5, -5.8902) projected
  line L6 (-52, 16) -> (-52, -5.8902) projected
  line L7 (-52, 16) -> (-59.5, -1.9112) projected
  line L8 (-59.5, -1.9112) -> (-59.5, -5.8902) projected
  arc A4 (-59.5, -5.8902) -> (-14.7221, -57.0155) centre (-7.9248, -5.8902) ccw projected
  line L9 (-14.7221, -57.0155) -> (-0.8495, -57.0155) projected
  line L10 (-0.8495, -5.8902) -> (-0.8495, -57.0155) projected
  circle A5 centre (-28.1179, -2.8383) radius 1.5 projected
  line L11 (-52, -5.8902) -> (-25, -5.8902) projected
  line L12 (-25, 0) -> (-25, -5.8902) projected
  line L13 (-52, 0) -> (-25, 0) projected
  line L14 (-52, -5.8902) -> (-52, 0) projected
  line L15 (-59.5, -5.8902) -> (-0.8495, -5.8902)
  line L16 (-0.8495, -5.8902) -> (-0.8495, -57.0155)
  line L17 (-0.8495, -57.0155) -> (-59.5, -57.0155)
  line L18 (-59.5, -57.0155) -> (-59.5, -5.8902)
  point P0 (-6, 4.5)
extrude "Extrusion31" [suppressed]
equation "\"d5\" = 0.5 * d4"
properties part number "eye_cam_angled_bracket"
